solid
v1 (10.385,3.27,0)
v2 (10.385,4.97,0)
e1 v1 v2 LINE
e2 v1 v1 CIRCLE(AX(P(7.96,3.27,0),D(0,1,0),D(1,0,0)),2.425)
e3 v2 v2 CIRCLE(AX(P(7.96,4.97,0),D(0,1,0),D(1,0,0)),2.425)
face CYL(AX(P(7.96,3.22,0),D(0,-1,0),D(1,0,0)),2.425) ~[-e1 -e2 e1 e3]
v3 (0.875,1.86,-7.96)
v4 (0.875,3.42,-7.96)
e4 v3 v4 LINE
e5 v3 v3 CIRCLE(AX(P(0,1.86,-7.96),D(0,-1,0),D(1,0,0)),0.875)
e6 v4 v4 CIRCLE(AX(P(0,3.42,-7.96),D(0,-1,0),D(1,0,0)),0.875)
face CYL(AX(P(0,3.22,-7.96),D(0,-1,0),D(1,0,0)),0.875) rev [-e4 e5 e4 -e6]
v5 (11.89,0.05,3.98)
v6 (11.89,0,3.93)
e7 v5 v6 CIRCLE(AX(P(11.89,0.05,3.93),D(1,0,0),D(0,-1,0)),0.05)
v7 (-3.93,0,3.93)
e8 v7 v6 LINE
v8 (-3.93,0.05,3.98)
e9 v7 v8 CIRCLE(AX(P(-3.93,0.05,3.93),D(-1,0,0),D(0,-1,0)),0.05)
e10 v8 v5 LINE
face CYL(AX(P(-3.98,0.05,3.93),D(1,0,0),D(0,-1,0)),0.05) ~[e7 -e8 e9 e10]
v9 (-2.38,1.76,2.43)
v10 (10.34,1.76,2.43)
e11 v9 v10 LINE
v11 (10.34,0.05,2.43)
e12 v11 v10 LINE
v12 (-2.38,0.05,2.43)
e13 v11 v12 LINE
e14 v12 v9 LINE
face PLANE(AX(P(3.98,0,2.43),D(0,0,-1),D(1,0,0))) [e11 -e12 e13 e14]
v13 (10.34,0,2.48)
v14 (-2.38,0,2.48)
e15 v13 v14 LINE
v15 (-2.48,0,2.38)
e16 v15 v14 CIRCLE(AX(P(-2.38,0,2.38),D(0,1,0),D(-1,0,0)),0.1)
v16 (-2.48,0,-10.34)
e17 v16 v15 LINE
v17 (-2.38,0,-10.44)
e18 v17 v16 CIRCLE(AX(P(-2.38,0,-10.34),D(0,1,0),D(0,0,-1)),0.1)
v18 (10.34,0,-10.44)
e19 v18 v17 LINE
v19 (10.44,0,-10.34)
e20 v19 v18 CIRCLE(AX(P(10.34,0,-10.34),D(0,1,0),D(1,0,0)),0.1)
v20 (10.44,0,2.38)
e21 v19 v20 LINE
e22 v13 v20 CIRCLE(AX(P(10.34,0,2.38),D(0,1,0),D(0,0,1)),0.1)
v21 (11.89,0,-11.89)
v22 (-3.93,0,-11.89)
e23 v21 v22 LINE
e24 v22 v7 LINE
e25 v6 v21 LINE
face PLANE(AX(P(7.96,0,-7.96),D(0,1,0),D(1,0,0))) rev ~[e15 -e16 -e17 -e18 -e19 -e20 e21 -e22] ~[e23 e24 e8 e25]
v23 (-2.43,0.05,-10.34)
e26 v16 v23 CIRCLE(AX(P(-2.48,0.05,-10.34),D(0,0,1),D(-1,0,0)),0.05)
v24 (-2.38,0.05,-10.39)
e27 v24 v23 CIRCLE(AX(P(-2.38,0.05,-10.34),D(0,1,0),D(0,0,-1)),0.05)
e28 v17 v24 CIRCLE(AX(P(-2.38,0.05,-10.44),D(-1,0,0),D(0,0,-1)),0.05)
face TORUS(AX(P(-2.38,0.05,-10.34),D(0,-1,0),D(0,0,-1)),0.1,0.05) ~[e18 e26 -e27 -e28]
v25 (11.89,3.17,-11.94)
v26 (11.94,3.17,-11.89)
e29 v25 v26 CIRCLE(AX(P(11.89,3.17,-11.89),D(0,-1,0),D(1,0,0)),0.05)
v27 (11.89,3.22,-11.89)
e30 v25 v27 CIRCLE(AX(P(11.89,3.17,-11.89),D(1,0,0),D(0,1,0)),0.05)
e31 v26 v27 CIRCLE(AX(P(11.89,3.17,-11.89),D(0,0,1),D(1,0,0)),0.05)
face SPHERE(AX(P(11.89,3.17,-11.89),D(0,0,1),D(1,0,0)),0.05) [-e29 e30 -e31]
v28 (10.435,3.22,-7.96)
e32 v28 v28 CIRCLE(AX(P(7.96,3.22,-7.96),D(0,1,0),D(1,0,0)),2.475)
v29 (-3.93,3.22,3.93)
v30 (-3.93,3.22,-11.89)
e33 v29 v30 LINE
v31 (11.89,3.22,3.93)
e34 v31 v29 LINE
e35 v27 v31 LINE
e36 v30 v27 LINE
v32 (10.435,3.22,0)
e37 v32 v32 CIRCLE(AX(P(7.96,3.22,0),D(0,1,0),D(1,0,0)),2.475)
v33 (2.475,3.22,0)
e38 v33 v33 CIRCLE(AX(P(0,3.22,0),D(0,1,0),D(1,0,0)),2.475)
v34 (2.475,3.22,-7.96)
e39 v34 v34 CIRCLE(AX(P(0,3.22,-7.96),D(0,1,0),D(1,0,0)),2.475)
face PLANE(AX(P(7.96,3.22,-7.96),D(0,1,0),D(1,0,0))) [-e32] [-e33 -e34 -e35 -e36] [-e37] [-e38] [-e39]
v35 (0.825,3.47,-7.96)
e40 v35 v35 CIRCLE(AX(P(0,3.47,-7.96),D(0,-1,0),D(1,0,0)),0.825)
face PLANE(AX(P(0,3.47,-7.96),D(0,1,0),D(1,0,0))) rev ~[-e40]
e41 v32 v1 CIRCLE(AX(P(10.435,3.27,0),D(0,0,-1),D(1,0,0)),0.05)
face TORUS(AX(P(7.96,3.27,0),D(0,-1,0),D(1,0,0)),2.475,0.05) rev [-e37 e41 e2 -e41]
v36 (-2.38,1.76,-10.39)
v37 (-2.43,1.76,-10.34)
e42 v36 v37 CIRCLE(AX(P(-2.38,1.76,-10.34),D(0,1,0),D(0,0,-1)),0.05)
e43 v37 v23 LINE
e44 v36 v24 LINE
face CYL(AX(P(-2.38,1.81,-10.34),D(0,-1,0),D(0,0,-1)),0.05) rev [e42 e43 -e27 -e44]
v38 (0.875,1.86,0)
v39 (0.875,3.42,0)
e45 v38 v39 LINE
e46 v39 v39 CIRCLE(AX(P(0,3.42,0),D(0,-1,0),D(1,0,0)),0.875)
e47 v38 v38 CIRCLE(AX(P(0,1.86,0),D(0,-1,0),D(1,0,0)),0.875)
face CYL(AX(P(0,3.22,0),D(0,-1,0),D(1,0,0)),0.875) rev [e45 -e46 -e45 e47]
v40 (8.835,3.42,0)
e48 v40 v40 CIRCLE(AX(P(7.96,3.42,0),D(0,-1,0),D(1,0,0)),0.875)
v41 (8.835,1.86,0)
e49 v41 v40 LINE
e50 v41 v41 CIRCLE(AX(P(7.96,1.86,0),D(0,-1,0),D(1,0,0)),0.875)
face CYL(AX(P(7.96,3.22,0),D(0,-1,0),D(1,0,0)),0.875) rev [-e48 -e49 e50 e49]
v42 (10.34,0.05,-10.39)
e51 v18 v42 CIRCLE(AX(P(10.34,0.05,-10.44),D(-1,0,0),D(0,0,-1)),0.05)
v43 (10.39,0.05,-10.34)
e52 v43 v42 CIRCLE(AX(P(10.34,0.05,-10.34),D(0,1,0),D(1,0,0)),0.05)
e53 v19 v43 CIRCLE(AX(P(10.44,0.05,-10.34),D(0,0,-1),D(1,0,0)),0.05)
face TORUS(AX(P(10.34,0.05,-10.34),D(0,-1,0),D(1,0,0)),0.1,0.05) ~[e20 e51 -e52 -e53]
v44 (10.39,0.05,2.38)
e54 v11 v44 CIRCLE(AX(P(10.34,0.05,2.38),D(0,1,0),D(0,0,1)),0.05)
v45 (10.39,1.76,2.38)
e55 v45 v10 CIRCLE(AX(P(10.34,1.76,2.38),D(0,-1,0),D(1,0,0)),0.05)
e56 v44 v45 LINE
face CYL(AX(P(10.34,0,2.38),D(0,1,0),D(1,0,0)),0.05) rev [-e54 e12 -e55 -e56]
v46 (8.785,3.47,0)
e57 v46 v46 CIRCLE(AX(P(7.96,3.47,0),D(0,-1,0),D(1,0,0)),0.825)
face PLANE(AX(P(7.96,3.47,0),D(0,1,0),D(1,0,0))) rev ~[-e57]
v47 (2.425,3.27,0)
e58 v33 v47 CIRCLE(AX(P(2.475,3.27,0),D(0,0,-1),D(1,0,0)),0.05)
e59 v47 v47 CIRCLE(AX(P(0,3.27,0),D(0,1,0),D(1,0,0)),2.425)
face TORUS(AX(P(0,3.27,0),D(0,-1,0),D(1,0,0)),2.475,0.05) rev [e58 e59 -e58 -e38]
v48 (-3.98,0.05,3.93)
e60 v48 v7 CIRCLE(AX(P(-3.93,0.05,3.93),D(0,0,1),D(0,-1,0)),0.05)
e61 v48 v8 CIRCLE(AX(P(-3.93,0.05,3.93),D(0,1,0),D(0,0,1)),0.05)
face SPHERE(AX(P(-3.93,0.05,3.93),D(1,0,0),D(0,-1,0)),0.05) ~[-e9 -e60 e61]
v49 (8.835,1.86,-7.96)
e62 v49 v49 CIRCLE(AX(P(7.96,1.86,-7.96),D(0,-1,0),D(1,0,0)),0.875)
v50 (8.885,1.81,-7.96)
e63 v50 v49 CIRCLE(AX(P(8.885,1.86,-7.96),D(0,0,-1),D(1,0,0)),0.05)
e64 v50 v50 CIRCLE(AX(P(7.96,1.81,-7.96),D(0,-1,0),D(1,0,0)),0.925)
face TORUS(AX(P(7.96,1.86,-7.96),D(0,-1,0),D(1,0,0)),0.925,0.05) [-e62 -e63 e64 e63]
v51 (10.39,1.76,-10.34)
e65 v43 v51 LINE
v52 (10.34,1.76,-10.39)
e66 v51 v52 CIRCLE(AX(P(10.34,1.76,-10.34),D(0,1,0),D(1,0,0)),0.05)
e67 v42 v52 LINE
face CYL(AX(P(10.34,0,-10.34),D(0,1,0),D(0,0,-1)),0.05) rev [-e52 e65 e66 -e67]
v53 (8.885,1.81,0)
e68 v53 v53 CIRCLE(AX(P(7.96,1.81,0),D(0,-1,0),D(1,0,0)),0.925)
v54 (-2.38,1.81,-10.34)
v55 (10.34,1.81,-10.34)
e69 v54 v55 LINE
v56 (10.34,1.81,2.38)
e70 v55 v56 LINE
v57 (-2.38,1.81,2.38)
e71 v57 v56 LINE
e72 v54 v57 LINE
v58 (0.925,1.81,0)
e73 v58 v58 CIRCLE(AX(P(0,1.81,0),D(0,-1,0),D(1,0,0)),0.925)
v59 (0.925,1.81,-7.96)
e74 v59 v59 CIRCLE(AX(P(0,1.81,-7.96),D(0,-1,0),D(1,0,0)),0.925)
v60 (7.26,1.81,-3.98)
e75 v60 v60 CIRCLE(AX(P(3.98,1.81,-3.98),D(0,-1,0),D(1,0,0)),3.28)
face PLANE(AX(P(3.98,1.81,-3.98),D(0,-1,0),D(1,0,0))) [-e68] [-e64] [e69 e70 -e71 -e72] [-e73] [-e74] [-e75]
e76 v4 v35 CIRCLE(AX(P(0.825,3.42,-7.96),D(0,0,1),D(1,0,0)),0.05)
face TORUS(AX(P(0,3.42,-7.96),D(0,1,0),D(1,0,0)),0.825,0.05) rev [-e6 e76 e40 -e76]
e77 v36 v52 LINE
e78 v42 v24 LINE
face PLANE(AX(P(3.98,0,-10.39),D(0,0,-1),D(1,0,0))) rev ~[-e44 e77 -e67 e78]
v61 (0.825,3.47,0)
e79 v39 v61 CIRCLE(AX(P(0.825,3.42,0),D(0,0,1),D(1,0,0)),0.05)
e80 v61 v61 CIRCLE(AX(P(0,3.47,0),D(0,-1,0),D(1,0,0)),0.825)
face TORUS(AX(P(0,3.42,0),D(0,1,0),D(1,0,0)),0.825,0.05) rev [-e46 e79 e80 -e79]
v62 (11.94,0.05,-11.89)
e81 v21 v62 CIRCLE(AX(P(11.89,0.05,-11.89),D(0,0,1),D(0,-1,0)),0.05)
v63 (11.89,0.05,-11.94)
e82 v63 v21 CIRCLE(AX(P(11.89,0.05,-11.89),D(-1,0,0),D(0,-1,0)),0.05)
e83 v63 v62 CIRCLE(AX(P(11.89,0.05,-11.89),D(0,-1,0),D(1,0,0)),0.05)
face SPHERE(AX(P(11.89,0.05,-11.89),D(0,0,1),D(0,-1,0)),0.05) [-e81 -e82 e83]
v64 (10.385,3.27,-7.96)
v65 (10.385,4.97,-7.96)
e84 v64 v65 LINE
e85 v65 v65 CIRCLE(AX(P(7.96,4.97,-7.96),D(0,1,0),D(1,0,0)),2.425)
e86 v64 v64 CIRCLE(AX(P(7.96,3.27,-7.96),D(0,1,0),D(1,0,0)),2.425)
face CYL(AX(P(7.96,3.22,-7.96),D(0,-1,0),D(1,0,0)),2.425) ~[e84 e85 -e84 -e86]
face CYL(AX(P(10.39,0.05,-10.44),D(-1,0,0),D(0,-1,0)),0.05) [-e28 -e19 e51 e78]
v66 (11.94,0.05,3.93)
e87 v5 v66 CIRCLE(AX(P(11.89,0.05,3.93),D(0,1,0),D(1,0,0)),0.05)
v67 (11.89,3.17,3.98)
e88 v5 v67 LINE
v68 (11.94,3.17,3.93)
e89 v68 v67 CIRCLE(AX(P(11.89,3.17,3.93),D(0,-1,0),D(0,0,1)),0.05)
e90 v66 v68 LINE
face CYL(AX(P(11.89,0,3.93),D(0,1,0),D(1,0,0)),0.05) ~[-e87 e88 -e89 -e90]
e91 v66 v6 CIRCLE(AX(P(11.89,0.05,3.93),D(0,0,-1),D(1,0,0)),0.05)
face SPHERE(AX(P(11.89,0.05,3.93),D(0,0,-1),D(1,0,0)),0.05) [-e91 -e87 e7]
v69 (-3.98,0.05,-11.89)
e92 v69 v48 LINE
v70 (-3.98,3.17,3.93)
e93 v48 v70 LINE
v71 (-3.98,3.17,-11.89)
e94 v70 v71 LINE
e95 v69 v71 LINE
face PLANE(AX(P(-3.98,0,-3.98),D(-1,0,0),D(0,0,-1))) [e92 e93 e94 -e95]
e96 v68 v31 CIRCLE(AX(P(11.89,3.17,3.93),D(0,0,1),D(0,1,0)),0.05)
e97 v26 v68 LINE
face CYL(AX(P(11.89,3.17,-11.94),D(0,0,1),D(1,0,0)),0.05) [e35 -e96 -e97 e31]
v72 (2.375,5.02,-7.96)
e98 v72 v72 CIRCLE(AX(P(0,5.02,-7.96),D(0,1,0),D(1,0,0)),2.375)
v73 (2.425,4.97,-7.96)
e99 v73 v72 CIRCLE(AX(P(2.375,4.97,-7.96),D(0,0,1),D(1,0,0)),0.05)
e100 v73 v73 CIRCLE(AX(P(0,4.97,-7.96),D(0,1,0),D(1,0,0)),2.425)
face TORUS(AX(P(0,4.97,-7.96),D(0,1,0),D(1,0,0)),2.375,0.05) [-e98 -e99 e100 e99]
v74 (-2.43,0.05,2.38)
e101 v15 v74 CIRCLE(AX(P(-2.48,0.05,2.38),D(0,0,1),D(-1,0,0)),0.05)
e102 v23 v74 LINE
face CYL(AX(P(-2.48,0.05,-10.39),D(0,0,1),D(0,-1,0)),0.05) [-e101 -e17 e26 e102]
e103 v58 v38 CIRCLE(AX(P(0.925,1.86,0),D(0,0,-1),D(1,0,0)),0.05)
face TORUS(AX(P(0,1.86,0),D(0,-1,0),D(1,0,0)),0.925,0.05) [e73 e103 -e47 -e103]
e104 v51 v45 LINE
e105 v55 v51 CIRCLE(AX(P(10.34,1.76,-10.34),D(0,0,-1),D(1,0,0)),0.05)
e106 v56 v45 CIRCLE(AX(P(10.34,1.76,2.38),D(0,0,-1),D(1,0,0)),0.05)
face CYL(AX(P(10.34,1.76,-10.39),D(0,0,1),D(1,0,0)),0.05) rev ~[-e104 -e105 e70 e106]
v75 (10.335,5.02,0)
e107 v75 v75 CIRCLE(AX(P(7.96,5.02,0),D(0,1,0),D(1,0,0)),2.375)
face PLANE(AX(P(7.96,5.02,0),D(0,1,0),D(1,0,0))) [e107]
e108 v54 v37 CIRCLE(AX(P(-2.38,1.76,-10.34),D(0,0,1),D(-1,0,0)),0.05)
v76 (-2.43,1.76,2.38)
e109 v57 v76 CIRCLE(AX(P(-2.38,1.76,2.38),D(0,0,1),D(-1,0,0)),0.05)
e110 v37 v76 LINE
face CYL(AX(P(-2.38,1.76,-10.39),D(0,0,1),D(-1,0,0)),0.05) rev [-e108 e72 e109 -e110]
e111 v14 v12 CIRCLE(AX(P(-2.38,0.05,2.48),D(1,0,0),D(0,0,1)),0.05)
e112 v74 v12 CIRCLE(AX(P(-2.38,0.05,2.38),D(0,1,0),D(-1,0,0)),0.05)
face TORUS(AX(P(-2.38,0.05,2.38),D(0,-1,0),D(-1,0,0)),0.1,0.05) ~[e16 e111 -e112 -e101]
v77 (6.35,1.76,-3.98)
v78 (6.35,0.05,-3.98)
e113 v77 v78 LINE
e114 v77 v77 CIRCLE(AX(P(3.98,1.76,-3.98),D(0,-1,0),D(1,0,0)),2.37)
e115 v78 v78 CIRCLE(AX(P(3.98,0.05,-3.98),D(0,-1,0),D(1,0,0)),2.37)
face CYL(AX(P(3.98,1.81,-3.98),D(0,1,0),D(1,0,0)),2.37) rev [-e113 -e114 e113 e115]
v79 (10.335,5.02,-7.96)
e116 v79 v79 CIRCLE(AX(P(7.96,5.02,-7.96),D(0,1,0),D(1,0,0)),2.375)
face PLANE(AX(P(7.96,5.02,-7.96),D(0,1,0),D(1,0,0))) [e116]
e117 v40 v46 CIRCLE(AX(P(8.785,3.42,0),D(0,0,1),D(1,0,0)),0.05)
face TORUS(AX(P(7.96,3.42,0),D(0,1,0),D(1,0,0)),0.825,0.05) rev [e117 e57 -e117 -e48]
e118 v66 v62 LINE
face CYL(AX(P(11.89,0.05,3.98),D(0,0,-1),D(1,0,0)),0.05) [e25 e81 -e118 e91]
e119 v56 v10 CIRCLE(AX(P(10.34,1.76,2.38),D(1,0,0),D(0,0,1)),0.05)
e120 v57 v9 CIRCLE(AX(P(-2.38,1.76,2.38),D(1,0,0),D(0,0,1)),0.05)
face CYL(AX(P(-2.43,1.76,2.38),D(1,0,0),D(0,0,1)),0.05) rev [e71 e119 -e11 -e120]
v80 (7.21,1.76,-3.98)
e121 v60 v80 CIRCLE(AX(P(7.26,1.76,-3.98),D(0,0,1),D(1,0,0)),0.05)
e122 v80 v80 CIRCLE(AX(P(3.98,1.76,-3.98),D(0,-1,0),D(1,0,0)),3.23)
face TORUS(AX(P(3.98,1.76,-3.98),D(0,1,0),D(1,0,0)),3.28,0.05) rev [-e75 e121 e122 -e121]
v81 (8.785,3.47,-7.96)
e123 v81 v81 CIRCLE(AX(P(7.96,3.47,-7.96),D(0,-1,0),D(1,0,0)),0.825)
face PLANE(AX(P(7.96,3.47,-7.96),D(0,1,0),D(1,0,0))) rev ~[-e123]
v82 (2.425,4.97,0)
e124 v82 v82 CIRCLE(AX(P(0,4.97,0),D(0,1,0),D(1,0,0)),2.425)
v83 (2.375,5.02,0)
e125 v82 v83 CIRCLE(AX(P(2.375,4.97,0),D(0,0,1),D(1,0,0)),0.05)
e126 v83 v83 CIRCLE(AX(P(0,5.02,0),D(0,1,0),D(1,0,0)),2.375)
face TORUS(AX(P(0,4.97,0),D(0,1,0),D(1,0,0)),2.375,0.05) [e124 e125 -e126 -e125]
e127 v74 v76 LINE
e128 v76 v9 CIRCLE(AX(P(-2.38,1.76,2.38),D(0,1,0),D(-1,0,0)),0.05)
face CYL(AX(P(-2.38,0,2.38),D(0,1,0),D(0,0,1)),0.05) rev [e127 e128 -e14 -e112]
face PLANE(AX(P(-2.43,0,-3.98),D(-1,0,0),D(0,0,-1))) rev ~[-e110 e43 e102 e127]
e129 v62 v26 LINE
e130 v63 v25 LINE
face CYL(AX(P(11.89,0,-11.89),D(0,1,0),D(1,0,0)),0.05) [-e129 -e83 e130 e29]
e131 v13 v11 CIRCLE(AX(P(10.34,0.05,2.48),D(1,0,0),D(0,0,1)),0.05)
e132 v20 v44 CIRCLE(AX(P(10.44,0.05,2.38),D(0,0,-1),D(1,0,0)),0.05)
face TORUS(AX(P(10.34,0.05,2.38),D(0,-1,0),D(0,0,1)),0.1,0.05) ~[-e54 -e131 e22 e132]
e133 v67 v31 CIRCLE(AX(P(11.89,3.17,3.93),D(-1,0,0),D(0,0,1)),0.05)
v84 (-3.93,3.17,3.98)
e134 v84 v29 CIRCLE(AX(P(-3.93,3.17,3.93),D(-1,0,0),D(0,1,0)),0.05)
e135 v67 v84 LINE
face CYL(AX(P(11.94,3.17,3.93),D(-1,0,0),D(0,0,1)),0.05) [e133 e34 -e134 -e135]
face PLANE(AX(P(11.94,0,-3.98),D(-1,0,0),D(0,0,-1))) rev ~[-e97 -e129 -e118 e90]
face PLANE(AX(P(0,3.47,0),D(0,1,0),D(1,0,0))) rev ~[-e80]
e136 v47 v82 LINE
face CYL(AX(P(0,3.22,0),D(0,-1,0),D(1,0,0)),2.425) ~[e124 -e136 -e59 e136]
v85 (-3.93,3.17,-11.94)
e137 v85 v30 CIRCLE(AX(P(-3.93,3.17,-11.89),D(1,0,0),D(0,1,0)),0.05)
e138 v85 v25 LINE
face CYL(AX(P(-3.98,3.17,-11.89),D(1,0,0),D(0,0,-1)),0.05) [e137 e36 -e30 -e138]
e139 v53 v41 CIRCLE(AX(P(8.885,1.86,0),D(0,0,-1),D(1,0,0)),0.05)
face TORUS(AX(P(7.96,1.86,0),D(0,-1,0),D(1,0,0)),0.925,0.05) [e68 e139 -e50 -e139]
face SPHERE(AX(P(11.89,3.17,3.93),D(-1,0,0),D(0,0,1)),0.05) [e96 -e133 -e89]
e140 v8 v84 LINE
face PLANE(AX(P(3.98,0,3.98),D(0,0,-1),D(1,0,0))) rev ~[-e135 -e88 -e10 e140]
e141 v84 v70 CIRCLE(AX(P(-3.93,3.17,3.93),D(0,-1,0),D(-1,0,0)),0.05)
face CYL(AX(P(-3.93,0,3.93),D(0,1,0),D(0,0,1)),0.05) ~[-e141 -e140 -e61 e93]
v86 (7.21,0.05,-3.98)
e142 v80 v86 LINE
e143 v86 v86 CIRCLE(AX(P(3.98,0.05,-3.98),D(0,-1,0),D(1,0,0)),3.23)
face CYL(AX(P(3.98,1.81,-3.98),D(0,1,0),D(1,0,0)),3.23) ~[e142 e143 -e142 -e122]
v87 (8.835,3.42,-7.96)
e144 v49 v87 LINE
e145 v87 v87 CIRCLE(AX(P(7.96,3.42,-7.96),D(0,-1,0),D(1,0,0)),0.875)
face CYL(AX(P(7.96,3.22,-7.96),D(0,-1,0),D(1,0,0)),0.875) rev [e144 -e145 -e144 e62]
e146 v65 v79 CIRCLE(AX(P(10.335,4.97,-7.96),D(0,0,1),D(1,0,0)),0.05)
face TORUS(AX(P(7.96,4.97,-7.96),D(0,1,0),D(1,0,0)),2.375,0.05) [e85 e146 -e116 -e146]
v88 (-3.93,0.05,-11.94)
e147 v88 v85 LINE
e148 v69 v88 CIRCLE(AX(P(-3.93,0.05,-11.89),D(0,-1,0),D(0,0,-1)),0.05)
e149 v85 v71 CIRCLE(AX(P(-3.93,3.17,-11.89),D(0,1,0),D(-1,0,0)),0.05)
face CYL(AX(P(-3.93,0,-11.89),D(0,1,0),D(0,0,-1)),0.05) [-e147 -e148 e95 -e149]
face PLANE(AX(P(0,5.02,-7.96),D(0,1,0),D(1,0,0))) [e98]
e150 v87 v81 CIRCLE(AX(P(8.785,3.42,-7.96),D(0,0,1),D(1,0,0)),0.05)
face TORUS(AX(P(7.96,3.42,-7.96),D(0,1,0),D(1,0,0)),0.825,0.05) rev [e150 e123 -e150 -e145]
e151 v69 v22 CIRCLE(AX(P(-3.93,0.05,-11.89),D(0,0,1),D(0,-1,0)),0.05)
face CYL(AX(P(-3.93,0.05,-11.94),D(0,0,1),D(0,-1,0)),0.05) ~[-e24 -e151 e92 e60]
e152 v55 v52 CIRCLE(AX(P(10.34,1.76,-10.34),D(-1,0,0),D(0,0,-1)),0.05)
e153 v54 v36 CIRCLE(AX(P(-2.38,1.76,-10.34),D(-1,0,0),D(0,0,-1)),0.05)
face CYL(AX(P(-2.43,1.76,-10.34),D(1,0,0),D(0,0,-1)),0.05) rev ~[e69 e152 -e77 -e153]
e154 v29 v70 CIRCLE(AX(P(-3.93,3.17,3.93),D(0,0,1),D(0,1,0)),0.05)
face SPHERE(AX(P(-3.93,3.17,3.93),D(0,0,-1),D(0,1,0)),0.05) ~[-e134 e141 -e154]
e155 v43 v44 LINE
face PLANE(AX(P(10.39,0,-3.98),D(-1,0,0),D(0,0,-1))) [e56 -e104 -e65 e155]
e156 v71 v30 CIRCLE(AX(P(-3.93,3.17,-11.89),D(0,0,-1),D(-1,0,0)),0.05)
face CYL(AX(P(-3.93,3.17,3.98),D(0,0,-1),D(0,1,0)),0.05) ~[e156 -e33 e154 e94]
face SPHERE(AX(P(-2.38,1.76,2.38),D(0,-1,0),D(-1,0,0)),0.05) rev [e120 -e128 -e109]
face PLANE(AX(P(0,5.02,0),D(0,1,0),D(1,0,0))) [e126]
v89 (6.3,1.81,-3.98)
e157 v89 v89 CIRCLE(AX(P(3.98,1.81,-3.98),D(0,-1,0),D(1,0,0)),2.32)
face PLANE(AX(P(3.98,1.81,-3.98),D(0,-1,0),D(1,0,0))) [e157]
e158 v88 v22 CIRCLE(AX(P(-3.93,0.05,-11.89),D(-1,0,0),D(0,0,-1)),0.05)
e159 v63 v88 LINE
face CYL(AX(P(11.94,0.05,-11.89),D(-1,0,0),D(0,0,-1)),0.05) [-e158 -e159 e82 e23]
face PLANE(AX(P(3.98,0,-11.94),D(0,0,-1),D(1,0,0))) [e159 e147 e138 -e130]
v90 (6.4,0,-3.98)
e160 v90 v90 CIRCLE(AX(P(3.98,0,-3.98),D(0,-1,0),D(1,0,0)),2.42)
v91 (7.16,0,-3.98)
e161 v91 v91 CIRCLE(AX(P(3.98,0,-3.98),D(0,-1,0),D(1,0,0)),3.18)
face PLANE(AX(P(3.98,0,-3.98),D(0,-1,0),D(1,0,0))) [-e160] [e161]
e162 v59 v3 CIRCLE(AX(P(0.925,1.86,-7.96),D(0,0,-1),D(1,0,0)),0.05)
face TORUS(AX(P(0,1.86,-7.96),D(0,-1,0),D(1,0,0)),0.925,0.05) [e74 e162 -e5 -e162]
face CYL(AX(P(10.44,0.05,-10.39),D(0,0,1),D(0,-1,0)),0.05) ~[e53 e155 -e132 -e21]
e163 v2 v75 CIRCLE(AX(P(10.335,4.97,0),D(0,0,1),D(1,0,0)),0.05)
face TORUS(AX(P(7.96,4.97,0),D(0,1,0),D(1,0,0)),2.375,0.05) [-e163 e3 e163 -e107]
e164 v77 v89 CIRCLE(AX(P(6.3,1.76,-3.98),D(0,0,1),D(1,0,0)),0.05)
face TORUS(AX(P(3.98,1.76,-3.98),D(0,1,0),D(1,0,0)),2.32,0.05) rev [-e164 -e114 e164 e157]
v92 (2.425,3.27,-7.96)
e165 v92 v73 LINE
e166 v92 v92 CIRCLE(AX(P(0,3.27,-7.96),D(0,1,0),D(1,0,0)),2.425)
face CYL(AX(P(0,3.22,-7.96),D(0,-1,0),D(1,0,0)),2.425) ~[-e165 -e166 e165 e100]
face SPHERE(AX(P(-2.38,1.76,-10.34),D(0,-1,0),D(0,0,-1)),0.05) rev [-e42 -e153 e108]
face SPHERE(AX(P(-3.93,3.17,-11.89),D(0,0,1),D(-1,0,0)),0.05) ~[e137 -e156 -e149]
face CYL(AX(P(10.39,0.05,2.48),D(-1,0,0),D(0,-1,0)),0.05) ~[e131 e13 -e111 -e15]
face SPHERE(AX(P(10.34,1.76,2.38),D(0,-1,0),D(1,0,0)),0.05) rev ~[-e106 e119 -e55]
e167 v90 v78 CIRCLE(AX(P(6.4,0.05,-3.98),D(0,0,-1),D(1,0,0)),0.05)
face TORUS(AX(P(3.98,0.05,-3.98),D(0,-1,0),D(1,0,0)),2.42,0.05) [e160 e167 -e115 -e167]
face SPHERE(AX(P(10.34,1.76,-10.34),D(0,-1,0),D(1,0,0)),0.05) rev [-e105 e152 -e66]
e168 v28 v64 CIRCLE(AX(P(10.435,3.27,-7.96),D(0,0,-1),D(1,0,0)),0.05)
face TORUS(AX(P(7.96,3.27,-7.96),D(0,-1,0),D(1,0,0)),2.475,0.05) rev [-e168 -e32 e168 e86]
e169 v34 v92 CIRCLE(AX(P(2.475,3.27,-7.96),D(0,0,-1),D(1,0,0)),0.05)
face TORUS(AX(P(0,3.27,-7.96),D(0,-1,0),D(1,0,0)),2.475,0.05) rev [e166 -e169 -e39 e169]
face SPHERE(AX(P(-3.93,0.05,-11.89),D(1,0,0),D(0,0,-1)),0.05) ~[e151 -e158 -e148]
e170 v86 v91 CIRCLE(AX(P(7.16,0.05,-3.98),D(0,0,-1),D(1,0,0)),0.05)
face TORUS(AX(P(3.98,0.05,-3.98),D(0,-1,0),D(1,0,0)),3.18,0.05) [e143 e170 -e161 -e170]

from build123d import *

# Parameters (mm, degrees)
SKETCH1_W                 = 7.96
SKETCH1_H                 = 7.96
EXTRUDE1_DEPTH            = 3.22
SKETCH2_R                 = 2.425
EXTRUDE2_DEPTH            = 1.8
LPATTERN1_COUNT           = 2
LPATTERN1_PITCH           = 7.96
LPATTERN2_COUNT           = 2
LPATTERN2_PITCH           = 7.96
LPATTERN2_COPY_1_SKETCH_W = 7.96
LPATTERN2_COPY_1_SKETCH_H = 7.96
LPATTERN2_COPY_1_DEPTH    = 3.22
LPATTERN2_COPY_2_SKETCH_R = 2.425
LPATTERN2_COPY_2_DEPTH    = 1.8
SHELL1_T                  = -1.55
SKETCH3_W                 = 12.82
SKETCH3_H                 = 12.82
EXTRUDE3_DEPTH            = 0.14
SKETCH4_R                 = 3.23
SKETCH4_R_2               = 2.37
EXTRUDE4_DEPTH            = 1.81
FILLET1_R                 = 0.05


with BuildPart() as part:
    # Sketch1 → Extrude1 (new body)
    with BuildSketch(Plane(origin=(0, 0, 0), x_dir=(1, 0, 0), z_dir=(0, 1, 0))):
        Rectangle(SKETCH1_W, SKETCH1_H)
    extrude1 = extrude(amount=EXTRUDE1_DEPTH)

    # Sketch2 → Extrude2 (add)
    with BuildSketch(Plane(origin=(0, 3.22, 0), x_dir=(1, 0, 0), z_dir=(0, 1, 0))):
        Circle(SKETCH2_R)
    extrude2 = extrude(amount=EXTRUDE2_DEPTH)

    # LPattern1: Extrude1, Extrude2 ×2
    with Locations(*[(i * LPATTERN1_PITCH, 0, 0) for i in range(1, LPATTERN1_COUNT)]):
        add(extrude1)
        add(extrude2)

    # LPattern2: Extrude1, Extrude2 ×2
    with Locations(*[(0, 0, -i * LPATTERN2_PITCH) for i in range(1, LPATTERN2_COUNT)]):
        add(extrude1)
        add(extrude2)

    # LPattern2 copy 1 sketch → LPattern2 copy 1 (add)
    with BuildSketch(Plane(origin=(7.96, 0, -7.96), x_dir=(1, 0, 0), z_dir=(0, 1, 0))):
        Rectangle(LPATTERN2_COPY_1_SKETCH_W, LPATTERN2_COPY_1_SKETCH_H)
    extrude(amount=LPATTERN2_COPY_1_DEPTH)

    # LPattern2 copy 2 sketch → LPattern2 copy 2 (add)
    with BuildSketch(Plane(origin=(7.96, 3.22, -7.96), x_dir=(1, 0, 0), z_dir=(0, 1, 0))):
        Circle(LPATTERN2_COPY_2_SKETCH_R)
    extrude(amount=LPATTERN2_COPY_2_DEPTH)

    # Shell1
    shell1_openings = [part.faces().sort_by_distance(p)[0] for p in [
        (3.98, 0, -3.98),
    ]]
    offset(amount=SHELL1_T, openings=shell1_openings, kind=Kind.INTERSECTION)

    # Sketch3 → Extrude3 (cut)
    with BuildSketch(Plane.XZ.offset(-1.67)):
        with Locations((3.98, -3.98)):
            Rectangle(SKETCH3_W, SKETCH3_H)
    extrude(amount=-EXTRUDE3_DEPTH, mode=Mode.SUBTRACT)

    # Sketch4 → Extrude4 (add)
    with BuildSketch(Plane.XZ.offset(-1.81)):
        with Locations((3.98, -3.98)):
            Circle(SKETCH4_R)
        with Locations((3.98, -3.98)):
            Circle(SKETCH4_R_2, mode=Mode.SUBTRACT)
    extrude(amount=EXTRUDE4_DEPTH)

    # Fillet1
    fillet1_edges = [part.edges().sort_by_distance(p)[0] for p in [
        (-3.98, 3.22, -3.98),
        (3.98, 3.22, 3.98),
        (-2.425, 3.22, 0),
        (-2.425, 5.02, 0),
        (11.94, 0, -3.98),
        (11.94, 1.61, 3.98),
        (11.94, 3.22, -3.98),
        (5.535, 3.22, 0),
        (5.535, 5.02, 0),
        (3.98, 0, -11.94),
        (11.94, 1.61, -11.94),
        (-3.98, 1.61, -11.94),
        (3.98, 3.22, -11.94),
        (3.98, 0, 3.98),
        (-2.425, 3.22, -7.96),
        (-2.425, 5.02, -7.96),
        (5.535, 3.22, -7.96),
        (5.535, 5.02, -7.96),
        (-3.98, 0, -3.98),
        (-2.43, 0, -3.98),
        (-2.43, 0.905, -10.39),
        (3.98, 0, 2.43),
        (-2.43, 0.905, 2.43),
        (-0.875, 3.47, 0),
        (10.39, 0, -3.98),
        (10.39, 0.905, 2.43),
        (7.085, 3.47, 0),
        (3.98, 0, -10.39),
        (10.39, 0.905, -10.39),
        (-0.875, 3.47, -7.96),
        (7.085, 3.47, -7.96),
        (-0.875, 1.81, 0),
        (7.085, 1.81, 0),
        (-0.875, 1.81, -7.96),
        (7.085, 1.81, -7.96),
        (10.39, 1.81, -3.98),
        (3.98, 1.81, -10.39),
        (-3.98, 1.61, 3.98),
        (-2.43, 1.81, -3.98),
        (3.98, 1.81, 2.43),
        (0.75, 1.81, -3.98),
        (1.61, 1.81, -3.98),
        (0.75, 0, -3.98),
        (1.61, 0, -3.98),
    ]]
    fillet(fillet1_edges, radius=FILLET1_R)


solid = part.part
